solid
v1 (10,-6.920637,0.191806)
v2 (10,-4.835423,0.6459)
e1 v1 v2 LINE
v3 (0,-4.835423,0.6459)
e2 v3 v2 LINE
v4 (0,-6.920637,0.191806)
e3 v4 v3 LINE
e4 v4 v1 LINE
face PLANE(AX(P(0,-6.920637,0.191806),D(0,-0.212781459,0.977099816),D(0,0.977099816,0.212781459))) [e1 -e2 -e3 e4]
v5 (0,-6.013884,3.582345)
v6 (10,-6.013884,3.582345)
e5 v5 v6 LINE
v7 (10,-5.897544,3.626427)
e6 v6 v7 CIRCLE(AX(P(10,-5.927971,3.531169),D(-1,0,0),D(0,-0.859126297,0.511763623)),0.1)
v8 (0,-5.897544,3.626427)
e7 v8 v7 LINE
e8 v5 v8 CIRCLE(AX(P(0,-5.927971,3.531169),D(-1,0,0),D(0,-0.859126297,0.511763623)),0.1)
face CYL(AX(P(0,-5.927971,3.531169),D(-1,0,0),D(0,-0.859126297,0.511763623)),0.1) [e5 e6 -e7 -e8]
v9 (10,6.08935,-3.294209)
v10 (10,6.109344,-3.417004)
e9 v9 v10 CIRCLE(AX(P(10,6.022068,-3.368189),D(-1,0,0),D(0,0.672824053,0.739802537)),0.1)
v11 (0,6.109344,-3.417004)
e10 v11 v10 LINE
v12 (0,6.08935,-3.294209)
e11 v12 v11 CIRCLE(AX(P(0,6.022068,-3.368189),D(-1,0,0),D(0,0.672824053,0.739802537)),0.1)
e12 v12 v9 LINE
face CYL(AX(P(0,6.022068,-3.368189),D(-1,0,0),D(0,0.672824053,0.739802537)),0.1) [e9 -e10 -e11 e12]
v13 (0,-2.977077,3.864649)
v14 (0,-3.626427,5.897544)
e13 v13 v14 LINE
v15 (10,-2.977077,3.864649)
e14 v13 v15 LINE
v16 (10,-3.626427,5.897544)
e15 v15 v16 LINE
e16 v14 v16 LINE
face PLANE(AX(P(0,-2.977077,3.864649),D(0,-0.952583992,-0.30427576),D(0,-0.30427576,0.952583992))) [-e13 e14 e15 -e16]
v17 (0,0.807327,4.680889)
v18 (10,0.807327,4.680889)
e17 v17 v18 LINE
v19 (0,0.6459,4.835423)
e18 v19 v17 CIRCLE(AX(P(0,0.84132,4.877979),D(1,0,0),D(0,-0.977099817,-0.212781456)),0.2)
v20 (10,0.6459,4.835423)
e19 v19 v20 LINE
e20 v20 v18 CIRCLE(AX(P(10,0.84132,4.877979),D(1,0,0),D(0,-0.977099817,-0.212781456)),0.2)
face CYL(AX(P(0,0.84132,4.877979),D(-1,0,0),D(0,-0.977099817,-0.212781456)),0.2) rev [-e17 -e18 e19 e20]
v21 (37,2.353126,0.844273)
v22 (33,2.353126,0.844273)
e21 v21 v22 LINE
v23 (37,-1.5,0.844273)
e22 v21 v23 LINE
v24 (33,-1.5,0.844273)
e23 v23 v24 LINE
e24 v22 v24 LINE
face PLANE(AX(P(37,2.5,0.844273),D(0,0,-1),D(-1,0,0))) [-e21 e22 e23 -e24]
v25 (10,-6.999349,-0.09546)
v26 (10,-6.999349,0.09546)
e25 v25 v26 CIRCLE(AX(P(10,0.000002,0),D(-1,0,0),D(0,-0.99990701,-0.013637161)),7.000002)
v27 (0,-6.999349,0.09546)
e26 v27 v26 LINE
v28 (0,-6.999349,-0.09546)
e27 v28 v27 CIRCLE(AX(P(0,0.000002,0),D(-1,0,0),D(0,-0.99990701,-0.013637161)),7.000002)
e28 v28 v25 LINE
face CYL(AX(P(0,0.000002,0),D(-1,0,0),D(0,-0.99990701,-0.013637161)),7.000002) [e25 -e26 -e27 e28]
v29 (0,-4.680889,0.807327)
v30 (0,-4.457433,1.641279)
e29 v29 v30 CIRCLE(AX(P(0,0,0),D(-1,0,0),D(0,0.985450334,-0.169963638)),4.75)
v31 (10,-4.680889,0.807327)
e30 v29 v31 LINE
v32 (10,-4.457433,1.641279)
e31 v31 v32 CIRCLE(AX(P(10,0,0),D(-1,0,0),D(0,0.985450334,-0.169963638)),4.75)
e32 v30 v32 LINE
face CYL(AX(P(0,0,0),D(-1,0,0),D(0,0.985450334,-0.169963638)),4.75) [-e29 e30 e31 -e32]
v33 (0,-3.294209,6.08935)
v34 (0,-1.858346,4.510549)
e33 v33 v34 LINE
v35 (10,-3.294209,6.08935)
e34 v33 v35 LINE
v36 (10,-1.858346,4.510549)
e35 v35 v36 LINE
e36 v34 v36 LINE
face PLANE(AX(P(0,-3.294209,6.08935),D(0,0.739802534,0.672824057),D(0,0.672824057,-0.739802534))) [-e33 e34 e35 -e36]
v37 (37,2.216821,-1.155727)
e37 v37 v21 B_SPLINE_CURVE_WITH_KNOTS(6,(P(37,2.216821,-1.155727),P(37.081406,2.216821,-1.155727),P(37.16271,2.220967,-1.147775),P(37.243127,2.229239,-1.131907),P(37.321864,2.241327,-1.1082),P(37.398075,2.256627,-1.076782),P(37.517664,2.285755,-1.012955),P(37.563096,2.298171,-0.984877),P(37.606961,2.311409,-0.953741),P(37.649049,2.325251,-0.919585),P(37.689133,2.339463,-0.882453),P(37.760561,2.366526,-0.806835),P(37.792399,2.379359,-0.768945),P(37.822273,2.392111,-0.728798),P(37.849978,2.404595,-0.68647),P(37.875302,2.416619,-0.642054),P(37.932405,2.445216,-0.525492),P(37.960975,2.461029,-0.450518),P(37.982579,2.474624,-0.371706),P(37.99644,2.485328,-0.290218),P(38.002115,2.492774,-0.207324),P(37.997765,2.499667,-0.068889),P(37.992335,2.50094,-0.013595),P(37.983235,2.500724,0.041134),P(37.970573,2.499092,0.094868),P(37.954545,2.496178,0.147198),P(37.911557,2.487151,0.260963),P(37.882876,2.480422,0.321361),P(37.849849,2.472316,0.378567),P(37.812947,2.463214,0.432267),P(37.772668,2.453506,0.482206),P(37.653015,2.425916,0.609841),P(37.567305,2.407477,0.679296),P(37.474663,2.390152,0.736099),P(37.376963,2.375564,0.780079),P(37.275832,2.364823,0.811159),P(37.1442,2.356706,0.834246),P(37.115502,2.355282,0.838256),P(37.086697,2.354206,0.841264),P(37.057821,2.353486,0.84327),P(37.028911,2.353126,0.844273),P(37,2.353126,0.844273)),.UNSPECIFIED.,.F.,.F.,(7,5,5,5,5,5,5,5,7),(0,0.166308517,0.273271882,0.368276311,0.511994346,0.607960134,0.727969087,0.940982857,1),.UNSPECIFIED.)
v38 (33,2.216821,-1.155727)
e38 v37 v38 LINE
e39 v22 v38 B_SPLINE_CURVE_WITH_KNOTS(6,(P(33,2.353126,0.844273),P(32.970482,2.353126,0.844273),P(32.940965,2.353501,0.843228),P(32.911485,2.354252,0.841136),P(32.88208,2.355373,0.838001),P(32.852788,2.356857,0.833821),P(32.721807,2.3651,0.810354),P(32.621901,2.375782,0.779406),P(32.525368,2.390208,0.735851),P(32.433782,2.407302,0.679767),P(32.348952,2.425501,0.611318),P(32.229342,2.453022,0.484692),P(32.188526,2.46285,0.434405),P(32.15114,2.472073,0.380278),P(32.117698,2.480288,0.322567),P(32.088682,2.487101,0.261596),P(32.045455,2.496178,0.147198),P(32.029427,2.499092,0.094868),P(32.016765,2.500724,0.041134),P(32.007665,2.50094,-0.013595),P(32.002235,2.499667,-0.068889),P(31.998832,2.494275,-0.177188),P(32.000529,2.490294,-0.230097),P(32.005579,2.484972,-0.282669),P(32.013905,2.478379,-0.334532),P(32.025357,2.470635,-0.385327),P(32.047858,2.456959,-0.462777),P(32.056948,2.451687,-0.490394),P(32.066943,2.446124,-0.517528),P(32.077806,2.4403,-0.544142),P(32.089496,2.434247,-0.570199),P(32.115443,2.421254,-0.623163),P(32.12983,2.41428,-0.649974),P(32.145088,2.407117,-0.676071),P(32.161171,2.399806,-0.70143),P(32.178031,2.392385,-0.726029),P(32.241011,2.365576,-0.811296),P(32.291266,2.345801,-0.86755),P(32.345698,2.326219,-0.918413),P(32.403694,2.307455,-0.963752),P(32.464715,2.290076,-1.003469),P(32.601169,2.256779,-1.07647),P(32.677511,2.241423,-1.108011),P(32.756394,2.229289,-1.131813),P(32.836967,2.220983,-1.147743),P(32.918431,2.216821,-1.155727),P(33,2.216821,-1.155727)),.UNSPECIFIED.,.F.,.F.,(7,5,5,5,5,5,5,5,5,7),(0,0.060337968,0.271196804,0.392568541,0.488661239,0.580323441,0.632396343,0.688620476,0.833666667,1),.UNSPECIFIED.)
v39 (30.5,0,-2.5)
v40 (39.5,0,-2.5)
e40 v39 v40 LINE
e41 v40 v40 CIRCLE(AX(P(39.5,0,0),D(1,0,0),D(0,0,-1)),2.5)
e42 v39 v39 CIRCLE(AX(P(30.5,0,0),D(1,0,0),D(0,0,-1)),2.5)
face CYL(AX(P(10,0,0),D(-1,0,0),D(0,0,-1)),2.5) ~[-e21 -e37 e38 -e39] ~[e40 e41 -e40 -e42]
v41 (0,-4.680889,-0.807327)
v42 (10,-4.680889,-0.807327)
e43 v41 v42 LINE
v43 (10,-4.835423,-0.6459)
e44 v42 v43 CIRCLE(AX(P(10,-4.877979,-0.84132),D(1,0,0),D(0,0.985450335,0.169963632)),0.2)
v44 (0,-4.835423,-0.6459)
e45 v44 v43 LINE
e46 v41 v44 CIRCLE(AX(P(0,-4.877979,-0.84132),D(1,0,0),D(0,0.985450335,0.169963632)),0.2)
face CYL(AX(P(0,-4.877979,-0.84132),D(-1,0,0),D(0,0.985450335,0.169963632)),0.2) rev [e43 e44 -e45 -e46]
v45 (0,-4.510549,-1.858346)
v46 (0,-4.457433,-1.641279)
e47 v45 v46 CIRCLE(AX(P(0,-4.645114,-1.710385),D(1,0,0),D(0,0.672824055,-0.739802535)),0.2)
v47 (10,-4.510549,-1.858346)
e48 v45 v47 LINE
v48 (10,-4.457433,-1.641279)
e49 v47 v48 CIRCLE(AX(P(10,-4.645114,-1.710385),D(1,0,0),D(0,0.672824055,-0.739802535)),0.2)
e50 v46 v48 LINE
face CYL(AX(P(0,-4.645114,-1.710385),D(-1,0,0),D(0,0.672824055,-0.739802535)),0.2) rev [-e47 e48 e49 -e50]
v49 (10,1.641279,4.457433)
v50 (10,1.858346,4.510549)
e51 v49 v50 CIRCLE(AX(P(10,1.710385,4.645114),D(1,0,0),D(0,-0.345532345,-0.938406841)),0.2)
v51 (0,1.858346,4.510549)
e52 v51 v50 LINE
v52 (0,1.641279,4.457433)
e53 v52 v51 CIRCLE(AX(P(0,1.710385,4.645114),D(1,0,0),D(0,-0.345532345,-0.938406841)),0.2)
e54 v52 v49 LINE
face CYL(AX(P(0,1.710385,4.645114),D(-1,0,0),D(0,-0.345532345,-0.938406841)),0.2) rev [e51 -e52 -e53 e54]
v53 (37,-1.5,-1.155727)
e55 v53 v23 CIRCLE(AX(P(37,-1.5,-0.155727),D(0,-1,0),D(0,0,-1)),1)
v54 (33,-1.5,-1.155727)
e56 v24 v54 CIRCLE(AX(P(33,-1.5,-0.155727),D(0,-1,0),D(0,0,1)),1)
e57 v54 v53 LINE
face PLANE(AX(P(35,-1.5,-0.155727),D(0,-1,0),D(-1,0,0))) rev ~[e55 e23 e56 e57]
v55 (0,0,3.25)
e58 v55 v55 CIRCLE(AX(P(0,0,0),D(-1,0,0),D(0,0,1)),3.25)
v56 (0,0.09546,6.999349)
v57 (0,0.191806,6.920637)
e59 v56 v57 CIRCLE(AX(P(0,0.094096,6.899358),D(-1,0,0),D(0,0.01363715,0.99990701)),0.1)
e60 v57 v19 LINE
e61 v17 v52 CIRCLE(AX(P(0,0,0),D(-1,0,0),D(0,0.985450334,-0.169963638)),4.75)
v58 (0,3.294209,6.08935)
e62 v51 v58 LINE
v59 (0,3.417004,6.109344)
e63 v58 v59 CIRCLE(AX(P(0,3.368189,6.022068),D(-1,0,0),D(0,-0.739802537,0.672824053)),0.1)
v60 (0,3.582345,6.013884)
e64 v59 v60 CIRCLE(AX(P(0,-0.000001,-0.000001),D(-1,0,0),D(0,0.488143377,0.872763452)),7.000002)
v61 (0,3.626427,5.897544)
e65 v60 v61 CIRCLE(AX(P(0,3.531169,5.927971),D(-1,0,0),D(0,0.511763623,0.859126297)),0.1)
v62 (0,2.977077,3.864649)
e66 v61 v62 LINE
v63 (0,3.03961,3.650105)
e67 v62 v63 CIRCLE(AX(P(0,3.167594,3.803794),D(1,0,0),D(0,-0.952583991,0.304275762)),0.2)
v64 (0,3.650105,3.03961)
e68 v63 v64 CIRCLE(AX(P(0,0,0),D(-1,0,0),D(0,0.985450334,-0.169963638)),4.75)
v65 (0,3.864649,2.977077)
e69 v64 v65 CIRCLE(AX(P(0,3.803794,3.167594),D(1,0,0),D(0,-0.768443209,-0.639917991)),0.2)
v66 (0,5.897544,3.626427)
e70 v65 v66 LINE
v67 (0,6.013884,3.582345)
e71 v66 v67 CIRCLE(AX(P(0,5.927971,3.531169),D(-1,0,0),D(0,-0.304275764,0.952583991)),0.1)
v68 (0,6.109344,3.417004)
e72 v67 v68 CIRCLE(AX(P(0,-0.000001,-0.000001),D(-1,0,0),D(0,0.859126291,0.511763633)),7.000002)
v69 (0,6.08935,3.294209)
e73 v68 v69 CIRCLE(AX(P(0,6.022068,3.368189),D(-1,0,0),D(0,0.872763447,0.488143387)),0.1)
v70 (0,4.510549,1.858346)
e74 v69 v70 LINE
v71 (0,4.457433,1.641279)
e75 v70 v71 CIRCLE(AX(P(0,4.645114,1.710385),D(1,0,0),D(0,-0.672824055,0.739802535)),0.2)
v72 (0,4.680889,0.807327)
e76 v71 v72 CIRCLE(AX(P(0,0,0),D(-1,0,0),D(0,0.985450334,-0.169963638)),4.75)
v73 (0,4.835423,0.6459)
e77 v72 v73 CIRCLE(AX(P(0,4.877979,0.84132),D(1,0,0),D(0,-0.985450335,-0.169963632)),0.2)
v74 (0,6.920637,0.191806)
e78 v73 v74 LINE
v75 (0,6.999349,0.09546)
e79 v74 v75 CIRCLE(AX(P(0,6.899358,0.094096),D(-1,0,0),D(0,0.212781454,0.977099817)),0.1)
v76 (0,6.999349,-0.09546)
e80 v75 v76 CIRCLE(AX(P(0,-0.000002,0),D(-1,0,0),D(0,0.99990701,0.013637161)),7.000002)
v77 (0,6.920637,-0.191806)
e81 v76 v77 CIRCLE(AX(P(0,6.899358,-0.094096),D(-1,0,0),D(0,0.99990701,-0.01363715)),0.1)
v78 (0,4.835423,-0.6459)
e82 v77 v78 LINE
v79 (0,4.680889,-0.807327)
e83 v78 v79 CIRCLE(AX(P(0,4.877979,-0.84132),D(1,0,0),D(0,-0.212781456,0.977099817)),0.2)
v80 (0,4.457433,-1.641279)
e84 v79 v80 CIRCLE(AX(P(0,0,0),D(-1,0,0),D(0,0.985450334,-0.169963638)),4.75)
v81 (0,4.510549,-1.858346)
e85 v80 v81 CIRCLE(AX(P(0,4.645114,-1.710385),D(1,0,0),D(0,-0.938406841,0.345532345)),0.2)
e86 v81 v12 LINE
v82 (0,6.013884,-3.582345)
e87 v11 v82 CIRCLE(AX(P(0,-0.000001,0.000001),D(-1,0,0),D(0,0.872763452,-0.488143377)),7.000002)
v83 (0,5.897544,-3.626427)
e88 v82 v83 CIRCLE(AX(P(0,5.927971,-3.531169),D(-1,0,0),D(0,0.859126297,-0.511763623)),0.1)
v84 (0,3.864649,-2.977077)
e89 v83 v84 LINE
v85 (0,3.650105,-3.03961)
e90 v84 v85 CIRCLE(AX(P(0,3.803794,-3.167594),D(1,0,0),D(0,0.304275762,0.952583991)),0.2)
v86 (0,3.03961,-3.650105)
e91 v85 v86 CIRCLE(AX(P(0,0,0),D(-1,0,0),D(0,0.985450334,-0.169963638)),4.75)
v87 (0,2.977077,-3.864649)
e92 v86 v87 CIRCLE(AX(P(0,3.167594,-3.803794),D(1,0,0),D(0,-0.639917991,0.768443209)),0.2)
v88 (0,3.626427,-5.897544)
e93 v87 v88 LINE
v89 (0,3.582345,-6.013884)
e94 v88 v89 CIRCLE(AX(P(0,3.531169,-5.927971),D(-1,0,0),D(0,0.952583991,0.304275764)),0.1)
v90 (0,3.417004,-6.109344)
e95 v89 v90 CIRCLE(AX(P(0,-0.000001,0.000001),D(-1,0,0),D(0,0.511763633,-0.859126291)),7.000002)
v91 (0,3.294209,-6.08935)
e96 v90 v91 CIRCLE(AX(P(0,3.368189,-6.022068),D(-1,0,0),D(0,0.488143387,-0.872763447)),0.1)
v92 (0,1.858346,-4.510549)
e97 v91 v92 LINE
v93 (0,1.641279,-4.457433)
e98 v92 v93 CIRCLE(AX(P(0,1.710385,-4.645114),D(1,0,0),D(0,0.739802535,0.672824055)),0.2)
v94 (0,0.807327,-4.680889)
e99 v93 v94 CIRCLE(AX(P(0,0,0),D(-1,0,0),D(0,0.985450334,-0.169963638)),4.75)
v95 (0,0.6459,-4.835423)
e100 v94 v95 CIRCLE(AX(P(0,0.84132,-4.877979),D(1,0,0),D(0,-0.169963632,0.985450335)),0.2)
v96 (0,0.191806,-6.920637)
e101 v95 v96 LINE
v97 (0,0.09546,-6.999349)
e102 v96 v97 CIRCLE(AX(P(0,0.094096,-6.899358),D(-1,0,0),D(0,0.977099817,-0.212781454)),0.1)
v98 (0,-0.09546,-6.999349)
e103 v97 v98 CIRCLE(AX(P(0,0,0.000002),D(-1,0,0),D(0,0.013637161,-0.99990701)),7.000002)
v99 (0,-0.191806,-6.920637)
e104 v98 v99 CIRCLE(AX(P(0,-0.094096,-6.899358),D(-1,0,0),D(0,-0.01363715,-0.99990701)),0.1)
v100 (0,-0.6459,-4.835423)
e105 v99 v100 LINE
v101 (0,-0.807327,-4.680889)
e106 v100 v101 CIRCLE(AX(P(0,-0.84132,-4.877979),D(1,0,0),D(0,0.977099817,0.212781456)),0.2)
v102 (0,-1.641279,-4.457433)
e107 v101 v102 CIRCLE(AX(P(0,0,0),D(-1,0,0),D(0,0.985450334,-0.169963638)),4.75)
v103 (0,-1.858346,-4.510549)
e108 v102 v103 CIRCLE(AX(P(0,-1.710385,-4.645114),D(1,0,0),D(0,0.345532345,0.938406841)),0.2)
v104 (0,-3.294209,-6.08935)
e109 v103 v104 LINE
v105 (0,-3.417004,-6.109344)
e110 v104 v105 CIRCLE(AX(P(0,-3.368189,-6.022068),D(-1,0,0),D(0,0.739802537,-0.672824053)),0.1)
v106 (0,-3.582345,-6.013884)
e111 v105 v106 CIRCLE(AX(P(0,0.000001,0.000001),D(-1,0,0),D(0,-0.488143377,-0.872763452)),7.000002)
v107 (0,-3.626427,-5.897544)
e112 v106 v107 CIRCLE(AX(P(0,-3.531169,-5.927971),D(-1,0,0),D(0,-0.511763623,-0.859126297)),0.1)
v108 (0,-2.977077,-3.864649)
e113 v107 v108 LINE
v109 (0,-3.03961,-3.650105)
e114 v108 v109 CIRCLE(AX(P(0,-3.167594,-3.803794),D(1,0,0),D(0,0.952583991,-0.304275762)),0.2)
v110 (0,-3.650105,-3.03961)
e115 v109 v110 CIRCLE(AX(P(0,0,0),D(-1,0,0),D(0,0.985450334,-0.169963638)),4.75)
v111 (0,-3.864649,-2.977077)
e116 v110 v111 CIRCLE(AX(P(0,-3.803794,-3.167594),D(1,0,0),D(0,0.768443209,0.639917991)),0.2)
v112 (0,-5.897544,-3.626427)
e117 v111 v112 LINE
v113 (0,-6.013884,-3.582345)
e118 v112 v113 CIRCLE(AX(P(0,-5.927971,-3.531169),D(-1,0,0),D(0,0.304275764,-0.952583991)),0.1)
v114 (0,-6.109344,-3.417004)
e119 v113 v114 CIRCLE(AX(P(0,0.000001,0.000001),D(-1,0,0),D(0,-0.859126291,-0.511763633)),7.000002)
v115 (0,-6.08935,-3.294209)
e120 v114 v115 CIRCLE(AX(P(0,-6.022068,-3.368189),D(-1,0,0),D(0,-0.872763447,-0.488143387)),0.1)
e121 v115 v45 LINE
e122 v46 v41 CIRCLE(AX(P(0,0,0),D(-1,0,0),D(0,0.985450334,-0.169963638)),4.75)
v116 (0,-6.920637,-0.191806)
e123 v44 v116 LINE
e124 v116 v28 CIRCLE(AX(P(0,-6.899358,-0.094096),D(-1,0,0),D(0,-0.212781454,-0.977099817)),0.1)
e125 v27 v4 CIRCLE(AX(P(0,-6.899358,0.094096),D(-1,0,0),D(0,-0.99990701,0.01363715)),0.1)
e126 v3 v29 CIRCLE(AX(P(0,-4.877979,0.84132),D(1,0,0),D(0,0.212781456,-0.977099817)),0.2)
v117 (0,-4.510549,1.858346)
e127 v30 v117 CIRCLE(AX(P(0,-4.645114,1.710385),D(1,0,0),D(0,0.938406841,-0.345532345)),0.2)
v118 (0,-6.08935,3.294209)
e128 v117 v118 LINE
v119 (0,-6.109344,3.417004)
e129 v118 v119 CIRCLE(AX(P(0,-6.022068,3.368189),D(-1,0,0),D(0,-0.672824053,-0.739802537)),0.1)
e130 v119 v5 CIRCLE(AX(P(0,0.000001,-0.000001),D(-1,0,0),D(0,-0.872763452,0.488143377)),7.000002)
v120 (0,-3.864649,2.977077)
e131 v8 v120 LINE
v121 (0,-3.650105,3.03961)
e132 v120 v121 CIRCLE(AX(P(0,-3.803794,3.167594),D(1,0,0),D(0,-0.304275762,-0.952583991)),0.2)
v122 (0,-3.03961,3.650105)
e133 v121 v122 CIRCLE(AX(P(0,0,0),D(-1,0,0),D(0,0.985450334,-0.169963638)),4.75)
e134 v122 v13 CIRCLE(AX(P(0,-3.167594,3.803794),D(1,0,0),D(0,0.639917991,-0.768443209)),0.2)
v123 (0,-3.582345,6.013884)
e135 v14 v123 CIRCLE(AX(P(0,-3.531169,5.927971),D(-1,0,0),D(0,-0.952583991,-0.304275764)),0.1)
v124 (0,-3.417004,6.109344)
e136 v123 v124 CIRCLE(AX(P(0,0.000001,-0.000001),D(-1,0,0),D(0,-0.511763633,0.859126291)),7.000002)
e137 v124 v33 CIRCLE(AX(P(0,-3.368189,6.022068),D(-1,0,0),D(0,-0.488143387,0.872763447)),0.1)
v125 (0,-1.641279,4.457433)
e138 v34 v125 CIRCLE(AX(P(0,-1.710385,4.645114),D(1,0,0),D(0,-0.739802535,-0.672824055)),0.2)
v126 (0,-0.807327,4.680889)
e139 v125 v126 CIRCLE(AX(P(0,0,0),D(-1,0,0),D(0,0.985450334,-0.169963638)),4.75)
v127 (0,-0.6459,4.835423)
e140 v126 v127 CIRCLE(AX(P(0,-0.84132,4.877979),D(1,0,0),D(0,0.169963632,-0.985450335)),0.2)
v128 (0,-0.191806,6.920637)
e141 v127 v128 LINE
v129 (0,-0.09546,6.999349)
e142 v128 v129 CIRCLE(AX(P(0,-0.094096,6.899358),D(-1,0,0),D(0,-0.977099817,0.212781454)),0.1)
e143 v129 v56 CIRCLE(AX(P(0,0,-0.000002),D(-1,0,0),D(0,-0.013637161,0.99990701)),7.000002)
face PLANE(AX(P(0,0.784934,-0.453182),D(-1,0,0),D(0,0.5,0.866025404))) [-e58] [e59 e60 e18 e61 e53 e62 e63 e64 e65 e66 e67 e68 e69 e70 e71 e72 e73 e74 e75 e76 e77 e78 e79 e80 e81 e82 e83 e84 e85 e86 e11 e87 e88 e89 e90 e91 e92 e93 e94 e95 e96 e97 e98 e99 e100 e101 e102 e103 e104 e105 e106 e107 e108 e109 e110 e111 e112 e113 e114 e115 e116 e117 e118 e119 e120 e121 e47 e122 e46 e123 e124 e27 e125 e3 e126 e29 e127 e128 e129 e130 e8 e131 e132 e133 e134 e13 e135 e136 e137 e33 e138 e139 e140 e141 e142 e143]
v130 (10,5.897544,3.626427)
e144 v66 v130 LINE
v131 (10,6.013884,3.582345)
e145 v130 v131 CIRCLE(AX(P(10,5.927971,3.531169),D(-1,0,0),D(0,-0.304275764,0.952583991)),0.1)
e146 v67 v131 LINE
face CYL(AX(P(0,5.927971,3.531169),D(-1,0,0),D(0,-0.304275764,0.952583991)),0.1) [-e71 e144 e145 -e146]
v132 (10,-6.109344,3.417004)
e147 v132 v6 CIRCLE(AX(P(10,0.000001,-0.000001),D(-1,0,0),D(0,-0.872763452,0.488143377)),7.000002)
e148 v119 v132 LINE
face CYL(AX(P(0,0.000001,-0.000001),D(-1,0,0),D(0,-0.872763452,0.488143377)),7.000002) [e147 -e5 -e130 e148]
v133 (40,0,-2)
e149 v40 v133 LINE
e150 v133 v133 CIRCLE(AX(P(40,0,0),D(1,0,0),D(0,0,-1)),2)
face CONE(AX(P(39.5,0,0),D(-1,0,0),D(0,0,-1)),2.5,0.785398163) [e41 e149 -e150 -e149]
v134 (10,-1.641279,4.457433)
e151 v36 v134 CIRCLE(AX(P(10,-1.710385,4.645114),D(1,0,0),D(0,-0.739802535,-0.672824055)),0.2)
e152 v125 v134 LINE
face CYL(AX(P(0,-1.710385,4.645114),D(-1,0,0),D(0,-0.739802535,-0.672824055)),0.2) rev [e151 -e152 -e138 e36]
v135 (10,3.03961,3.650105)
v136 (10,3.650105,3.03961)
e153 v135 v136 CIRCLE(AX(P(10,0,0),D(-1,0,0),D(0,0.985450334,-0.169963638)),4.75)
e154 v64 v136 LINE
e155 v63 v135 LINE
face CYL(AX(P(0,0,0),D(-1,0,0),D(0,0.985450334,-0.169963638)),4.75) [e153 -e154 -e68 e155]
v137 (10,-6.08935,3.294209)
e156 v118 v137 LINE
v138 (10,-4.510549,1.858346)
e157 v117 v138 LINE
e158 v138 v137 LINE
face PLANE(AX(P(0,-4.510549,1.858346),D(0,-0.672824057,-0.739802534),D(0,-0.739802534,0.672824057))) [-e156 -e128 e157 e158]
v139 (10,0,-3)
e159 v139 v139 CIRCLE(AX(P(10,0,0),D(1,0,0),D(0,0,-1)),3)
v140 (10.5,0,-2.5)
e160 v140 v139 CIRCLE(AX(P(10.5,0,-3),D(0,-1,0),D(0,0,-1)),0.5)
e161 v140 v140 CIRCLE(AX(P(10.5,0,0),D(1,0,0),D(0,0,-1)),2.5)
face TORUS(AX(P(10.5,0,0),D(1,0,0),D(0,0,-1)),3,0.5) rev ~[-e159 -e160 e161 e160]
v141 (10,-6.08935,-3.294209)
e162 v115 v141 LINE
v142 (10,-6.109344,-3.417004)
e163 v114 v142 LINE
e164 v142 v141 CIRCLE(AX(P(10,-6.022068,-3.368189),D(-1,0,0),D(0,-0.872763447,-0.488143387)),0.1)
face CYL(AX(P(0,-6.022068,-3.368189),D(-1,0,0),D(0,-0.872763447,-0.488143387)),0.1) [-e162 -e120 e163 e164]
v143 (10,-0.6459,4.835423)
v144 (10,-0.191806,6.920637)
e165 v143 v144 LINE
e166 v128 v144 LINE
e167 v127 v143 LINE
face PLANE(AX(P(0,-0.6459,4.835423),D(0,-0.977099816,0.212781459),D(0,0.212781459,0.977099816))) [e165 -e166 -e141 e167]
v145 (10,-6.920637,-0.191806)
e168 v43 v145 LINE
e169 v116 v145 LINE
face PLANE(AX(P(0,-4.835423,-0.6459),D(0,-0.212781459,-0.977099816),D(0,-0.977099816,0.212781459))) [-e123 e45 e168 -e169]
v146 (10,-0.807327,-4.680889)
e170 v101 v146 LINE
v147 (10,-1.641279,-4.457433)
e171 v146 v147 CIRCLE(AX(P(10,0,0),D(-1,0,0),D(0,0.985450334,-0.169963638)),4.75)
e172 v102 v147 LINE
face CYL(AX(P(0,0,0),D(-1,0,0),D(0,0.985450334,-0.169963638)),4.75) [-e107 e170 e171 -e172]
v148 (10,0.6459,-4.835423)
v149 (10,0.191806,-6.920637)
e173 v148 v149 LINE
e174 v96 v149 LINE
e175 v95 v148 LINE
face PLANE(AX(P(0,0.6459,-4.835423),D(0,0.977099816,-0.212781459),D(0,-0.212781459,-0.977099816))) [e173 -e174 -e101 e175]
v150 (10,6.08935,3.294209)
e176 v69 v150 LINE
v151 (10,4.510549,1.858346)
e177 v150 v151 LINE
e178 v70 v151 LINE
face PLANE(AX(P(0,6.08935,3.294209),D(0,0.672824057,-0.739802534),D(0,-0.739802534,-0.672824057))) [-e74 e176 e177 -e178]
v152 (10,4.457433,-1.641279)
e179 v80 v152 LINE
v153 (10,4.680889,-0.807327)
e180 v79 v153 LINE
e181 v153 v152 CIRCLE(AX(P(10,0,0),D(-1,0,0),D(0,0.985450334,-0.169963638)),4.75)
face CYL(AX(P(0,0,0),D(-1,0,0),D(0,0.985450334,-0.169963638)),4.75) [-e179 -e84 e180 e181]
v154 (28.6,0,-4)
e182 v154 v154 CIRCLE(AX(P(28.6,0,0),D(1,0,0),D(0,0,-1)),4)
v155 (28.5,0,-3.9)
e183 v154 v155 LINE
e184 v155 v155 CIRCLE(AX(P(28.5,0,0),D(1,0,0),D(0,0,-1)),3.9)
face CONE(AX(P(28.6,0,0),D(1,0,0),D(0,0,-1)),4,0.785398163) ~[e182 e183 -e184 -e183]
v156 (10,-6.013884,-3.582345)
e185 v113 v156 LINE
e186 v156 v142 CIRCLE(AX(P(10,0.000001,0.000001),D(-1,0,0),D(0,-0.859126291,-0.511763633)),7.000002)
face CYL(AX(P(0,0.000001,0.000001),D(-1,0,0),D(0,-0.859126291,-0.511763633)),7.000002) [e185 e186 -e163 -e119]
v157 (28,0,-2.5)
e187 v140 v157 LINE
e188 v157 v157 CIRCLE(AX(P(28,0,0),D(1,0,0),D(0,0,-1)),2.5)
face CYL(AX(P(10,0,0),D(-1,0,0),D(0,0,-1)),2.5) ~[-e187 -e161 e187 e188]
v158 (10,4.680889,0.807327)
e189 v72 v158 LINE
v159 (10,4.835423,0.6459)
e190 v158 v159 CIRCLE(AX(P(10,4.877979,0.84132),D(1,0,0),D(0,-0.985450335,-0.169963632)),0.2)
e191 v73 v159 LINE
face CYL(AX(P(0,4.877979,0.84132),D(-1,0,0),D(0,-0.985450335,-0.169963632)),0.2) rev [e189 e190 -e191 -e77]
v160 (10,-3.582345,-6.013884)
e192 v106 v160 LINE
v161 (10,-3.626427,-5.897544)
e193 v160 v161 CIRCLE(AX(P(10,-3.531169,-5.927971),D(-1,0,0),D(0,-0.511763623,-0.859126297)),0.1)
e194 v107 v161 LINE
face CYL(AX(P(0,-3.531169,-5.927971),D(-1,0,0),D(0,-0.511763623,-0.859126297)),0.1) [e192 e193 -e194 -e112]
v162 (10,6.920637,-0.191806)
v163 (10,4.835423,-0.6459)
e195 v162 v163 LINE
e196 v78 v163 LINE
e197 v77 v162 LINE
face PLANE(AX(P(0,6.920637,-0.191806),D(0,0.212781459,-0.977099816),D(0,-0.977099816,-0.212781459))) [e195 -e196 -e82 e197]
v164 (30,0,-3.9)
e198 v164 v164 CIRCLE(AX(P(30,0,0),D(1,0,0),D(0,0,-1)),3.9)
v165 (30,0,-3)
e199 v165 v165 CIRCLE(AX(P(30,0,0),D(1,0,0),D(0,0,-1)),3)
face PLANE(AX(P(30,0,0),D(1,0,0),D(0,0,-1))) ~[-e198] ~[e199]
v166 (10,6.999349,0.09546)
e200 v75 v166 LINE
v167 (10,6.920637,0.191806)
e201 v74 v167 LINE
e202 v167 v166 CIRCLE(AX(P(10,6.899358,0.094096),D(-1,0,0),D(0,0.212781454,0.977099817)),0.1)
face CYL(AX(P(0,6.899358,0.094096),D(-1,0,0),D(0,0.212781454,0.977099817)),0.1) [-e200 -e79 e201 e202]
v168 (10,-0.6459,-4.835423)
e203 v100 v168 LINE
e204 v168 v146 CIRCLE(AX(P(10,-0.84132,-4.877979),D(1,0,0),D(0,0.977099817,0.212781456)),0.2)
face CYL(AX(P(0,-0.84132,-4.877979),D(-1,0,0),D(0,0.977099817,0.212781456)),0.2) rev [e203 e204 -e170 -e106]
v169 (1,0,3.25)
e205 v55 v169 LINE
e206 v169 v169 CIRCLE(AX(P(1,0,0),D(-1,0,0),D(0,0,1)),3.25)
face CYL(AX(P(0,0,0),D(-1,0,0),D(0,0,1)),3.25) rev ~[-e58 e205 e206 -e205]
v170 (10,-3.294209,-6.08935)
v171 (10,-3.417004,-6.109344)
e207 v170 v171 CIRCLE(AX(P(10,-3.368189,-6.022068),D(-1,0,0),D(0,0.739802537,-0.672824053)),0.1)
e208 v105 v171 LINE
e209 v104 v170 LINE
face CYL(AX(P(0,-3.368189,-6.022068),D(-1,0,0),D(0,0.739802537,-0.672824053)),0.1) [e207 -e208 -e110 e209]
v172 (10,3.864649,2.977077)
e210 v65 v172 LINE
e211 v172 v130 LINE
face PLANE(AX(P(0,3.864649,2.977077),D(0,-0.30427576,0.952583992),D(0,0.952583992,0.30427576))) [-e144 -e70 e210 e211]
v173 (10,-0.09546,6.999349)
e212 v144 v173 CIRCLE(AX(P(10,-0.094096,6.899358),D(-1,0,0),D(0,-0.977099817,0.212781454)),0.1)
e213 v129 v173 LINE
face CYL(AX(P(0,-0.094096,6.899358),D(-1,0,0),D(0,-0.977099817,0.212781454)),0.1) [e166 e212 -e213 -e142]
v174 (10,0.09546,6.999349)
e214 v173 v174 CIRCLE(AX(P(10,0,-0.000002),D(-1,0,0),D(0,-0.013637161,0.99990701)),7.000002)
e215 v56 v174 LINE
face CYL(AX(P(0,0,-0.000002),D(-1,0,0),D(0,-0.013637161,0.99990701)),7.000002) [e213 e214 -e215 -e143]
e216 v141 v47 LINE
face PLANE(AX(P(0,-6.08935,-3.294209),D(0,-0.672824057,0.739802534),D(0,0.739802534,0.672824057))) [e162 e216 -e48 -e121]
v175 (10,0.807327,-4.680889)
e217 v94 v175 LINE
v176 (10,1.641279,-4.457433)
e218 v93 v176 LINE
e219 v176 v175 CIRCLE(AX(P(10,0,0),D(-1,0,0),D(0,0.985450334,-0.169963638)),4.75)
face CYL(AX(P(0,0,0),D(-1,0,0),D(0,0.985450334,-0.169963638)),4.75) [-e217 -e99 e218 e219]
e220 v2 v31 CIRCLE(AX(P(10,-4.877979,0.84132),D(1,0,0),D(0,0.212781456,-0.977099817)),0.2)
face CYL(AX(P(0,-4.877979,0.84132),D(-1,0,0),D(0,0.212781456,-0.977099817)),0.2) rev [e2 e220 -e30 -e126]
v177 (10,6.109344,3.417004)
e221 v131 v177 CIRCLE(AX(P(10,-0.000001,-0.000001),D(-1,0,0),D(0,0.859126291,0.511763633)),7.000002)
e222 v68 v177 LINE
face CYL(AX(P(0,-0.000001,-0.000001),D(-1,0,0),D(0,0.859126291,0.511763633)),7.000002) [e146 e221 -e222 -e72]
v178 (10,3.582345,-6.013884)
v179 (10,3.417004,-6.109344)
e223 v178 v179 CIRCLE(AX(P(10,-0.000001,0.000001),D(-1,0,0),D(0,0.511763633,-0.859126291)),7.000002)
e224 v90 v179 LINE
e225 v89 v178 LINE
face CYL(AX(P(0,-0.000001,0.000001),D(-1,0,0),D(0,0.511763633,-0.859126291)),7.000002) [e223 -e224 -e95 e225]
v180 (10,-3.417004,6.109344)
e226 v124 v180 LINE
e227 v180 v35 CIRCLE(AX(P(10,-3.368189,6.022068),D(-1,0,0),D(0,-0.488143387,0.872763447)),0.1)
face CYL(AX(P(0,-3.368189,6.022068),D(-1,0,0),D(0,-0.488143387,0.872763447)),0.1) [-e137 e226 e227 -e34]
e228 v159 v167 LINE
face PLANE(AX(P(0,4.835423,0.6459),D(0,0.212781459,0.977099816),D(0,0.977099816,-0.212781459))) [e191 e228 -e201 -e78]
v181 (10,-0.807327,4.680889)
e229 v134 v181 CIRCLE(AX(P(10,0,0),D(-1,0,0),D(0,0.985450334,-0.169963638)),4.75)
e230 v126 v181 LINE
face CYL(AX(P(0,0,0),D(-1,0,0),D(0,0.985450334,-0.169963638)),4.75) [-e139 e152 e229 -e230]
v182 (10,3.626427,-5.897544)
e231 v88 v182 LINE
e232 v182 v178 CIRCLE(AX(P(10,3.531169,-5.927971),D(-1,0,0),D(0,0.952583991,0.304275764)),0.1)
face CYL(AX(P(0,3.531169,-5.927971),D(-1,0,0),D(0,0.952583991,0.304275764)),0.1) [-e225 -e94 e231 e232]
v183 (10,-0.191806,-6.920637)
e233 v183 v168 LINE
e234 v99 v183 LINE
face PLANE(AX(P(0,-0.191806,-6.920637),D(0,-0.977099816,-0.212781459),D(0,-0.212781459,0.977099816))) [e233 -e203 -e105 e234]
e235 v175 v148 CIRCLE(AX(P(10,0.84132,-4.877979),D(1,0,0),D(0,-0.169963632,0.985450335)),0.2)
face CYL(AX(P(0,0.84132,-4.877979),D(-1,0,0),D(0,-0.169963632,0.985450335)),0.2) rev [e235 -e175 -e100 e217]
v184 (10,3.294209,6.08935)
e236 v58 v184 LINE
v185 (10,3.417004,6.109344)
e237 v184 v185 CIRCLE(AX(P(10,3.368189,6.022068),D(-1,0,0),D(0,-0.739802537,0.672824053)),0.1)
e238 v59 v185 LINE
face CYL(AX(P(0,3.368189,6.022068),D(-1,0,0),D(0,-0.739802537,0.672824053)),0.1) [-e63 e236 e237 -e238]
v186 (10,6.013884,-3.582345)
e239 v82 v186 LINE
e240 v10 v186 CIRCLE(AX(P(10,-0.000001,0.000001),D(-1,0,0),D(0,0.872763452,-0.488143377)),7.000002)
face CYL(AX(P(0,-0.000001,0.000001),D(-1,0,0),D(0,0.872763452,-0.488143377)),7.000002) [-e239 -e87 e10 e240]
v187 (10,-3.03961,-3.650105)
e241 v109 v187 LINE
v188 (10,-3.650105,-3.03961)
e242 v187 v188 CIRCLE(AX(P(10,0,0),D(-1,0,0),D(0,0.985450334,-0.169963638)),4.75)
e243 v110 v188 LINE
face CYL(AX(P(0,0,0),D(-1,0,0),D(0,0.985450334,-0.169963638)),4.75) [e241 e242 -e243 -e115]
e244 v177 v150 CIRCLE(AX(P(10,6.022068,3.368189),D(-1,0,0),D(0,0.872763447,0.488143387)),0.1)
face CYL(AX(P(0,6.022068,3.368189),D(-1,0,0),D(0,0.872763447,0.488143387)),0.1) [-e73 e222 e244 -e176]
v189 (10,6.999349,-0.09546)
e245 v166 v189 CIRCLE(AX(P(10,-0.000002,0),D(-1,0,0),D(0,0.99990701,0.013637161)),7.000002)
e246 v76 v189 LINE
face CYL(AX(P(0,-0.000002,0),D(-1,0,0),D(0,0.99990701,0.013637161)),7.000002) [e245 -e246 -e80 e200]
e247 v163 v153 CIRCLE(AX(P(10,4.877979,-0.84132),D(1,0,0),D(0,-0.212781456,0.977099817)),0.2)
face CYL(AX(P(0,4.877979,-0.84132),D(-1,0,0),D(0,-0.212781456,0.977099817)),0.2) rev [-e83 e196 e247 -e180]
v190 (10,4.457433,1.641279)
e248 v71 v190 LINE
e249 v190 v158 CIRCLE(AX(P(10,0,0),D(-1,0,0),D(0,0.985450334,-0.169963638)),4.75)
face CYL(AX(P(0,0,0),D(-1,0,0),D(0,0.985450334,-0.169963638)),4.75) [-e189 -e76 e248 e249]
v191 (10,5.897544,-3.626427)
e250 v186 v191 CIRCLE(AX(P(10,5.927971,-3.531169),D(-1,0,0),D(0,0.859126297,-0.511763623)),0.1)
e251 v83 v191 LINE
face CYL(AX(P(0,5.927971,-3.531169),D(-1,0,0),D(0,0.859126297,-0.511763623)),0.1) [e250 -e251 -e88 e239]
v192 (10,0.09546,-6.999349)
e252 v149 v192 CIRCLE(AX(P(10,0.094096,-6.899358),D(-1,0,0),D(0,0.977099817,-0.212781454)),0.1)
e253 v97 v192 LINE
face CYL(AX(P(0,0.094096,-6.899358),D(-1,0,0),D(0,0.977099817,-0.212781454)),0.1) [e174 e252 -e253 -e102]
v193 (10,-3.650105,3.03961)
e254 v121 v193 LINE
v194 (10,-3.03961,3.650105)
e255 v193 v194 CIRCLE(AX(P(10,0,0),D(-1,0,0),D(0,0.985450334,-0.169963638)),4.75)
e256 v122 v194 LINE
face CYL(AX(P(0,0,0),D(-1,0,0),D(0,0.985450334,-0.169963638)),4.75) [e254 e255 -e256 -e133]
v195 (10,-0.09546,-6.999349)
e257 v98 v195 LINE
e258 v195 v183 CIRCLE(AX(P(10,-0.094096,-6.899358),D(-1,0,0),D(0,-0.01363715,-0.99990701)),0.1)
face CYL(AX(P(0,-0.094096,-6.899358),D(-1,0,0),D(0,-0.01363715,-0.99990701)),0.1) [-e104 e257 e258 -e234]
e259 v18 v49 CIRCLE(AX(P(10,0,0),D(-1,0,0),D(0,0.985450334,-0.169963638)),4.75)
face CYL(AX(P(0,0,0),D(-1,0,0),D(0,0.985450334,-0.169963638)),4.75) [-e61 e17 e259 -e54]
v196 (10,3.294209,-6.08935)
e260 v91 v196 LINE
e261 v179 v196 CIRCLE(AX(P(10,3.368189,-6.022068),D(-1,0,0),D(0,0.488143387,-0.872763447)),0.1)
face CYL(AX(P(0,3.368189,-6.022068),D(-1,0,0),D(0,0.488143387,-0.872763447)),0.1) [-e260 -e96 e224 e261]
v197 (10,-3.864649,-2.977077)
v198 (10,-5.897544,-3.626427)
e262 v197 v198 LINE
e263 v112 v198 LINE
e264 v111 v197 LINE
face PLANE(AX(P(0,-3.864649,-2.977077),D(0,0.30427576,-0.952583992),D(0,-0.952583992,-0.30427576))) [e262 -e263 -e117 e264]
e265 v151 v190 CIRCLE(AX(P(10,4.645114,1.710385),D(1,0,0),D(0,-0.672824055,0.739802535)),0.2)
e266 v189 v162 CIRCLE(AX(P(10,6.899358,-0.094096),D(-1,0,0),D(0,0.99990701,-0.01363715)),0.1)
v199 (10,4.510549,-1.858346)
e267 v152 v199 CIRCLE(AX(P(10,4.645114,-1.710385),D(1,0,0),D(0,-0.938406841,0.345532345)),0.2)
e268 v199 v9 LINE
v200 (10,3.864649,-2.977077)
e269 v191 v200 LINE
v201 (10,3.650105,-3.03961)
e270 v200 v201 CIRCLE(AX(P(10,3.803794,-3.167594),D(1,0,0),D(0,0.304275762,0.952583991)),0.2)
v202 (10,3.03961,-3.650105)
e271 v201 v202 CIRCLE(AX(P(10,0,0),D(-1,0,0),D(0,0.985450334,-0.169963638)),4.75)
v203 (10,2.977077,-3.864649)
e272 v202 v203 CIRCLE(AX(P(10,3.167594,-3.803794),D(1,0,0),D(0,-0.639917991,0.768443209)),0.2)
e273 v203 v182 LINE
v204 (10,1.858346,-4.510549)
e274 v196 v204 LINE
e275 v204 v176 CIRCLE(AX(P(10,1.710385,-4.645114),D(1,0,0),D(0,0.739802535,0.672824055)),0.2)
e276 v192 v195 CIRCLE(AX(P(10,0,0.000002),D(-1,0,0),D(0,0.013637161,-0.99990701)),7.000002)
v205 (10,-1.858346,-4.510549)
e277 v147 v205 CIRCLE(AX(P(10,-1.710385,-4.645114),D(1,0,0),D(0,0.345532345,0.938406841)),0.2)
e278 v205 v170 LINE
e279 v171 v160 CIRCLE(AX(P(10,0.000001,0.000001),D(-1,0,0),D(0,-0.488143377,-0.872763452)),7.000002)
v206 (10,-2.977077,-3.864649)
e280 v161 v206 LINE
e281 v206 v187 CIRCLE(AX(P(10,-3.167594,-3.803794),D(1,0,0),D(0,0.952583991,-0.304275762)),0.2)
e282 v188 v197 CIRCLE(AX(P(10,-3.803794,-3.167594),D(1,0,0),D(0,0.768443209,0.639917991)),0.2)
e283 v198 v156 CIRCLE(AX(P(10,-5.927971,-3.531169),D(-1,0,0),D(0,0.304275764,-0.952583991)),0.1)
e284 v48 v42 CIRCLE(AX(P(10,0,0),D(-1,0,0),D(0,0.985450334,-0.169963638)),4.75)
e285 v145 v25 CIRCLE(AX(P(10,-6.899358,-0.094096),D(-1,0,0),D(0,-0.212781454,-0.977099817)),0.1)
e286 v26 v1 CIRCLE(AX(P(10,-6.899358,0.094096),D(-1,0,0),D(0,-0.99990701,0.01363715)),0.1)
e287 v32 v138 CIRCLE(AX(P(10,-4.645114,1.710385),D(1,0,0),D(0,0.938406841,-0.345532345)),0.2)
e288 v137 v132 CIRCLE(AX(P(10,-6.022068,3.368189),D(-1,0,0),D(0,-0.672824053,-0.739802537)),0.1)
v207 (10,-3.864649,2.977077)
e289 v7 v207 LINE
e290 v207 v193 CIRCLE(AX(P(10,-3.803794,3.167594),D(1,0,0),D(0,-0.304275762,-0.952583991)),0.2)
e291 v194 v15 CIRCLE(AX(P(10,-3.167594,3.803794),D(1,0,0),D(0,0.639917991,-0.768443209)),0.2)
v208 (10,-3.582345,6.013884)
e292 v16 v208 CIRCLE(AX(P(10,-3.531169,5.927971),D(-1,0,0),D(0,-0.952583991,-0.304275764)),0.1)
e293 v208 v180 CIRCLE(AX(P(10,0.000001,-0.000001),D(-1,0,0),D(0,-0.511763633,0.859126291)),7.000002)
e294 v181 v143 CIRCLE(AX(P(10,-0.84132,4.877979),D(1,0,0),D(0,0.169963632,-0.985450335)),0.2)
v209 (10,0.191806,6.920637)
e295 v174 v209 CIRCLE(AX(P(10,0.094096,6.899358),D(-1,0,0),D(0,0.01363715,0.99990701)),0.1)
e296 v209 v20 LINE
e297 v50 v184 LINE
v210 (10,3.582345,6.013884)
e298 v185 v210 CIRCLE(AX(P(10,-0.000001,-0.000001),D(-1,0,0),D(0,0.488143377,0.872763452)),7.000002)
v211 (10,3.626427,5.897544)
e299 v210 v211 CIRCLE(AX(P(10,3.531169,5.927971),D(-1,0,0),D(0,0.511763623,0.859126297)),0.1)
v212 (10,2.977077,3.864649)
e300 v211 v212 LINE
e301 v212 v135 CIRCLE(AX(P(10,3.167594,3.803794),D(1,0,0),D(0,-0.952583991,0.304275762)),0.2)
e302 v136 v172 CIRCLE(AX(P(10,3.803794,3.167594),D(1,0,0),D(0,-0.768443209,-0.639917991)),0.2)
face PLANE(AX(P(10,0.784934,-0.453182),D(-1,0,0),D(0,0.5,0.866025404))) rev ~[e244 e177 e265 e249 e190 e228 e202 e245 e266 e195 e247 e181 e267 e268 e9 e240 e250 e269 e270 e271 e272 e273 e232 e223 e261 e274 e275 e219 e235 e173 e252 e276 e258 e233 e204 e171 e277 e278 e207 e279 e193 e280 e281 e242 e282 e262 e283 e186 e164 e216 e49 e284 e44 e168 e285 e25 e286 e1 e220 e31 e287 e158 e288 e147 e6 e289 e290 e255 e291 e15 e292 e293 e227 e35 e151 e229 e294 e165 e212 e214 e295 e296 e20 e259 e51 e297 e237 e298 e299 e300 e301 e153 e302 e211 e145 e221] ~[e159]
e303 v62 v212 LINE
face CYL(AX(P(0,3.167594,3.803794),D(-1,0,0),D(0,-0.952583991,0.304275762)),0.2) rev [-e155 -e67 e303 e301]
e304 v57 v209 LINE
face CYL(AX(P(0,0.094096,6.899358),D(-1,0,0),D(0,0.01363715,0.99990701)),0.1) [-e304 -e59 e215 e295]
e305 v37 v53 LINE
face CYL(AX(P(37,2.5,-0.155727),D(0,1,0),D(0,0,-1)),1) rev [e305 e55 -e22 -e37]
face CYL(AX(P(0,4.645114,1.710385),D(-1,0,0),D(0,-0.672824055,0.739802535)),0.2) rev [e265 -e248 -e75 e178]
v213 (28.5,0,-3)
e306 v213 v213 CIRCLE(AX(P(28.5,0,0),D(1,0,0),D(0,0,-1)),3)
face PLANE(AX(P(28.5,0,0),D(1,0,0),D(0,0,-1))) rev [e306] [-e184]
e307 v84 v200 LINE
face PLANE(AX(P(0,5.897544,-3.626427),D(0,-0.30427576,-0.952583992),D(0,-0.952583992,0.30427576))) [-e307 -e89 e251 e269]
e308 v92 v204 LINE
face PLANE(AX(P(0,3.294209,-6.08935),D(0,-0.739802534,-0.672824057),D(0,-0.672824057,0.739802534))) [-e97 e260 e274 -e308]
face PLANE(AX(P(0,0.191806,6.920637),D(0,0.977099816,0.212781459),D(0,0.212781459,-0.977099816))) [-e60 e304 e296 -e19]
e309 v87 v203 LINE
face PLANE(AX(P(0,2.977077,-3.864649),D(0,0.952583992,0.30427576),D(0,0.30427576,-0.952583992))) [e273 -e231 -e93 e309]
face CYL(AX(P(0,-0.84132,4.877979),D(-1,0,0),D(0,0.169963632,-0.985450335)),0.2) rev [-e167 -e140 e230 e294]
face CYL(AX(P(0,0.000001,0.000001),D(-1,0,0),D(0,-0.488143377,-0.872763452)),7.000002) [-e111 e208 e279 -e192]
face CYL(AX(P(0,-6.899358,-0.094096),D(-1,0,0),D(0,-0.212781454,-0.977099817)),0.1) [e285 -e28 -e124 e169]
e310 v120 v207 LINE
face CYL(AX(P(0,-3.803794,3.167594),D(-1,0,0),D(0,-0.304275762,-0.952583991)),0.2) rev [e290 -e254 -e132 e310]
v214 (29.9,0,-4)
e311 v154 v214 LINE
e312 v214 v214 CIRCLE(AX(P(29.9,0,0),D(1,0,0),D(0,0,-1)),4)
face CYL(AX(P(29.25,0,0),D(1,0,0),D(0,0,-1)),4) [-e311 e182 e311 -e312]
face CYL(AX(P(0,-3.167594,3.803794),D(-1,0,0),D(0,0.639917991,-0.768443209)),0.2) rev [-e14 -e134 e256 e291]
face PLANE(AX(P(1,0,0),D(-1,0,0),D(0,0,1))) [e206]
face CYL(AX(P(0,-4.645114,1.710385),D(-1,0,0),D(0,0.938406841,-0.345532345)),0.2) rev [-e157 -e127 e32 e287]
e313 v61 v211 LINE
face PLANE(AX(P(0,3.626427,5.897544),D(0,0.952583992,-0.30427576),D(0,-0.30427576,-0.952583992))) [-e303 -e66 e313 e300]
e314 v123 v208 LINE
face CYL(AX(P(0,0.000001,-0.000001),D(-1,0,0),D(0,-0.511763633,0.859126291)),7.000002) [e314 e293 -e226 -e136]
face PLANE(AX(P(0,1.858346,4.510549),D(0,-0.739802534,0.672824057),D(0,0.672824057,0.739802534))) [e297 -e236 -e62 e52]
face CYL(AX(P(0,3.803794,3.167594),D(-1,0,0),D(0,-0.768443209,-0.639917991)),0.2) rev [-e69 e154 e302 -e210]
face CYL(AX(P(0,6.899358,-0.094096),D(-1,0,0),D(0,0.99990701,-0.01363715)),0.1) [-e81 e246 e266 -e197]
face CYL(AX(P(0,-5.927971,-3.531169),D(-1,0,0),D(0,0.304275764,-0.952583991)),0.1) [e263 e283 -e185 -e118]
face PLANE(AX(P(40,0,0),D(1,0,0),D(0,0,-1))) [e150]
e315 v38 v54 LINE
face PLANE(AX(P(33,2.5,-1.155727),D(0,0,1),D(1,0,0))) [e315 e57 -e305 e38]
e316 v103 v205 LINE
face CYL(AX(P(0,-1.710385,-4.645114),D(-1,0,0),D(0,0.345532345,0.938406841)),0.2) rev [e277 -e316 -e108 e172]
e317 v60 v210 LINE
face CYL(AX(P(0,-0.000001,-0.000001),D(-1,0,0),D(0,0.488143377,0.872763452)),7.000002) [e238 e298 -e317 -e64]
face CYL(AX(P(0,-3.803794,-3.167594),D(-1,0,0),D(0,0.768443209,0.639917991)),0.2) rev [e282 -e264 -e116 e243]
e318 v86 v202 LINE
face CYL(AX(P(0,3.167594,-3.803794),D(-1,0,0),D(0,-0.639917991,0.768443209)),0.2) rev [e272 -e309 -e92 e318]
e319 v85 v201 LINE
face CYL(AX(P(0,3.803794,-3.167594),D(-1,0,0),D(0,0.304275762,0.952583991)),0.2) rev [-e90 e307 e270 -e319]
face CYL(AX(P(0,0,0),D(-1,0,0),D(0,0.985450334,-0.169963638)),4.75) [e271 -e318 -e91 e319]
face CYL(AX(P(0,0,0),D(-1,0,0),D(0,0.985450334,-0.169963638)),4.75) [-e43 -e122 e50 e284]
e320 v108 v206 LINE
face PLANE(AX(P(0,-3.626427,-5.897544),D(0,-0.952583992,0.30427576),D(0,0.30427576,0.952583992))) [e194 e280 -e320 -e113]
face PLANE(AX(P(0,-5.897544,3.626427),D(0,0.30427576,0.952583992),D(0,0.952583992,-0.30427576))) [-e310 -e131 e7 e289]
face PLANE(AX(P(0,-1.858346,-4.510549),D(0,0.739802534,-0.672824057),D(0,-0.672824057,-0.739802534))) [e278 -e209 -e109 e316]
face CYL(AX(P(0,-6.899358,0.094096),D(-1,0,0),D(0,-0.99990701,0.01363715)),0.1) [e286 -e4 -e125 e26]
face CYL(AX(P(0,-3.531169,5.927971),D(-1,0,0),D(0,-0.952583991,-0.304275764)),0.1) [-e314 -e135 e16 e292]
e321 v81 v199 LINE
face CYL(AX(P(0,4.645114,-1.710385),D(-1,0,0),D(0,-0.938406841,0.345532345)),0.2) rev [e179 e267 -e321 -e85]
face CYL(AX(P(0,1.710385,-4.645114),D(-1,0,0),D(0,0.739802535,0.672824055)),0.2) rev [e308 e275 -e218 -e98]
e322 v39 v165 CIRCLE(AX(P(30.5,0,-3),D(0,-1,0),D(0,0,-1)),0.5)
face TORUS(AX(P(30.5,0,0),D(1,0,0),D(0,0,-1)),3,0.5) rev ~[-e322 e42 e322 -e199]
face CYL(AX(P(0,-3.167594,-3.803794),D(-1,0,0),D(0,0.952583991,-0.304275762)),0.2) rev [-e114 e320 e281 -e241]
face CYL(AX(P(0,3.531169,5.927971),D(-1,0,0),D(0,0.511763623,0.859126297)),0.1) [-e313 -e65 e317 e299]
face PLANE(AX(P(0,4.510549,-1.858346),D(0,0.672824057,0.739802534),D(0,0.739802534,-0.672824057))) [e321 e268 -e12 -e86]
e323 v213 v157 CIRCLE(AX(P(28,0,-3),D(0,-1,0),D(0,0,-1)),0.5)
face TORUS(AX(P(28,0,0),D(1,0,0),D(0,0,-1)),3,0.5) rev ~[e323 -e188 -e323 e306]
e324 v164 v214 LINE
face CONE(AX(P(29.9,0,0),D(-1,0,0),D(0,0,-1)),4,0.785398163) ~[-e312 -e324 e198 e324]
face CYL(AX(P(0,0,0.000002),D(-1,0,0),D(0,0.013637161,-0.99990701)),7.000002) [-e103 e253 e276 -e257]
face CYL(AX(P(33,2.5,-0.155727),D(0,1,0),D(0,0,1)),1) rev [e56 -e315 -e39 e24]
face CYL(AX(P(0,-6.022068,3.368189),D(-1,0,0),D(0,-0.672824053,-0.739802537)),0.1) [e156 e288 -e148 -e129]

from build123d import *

# Parameters (mm, degrees)
BOSS_EXTRUDE1_DEPTH = 10
CIRPATTERN1_COUNT   = 12
SKETCH2_R           = 2.5
BOSS_EXTRUDE2_DEPTH = 30
SKETCH6_W           = 1.5
SKETCH6_H           = 1.5
CUT_EXTRUDE1_DEPTH  = 4
CHAMFER2_SIZE       = 0.5
FILLET1_R           = 0.5
CHAMFER3_SIZE       = 0.1
FILLET2_R           = 0.5
SKETCH9_R           = 3.25
CUT_EXTRUDE2_DEPTH  = 1


with BuildPart() as part:
    # Sketch1 → Boss-Extrude1 (new body)
    with BuildSketch(Plane(origin=(0, 0, 0), x_dir=(0, 0, -1), z_dir=(1, 0, 0))):
        with BuildLine():
            Line((-0.645900046, 4.835422864), (-0.191806417, 6.920636512))
            ThreePointArc((-0.191806417, 6.920636512), (-0.157364247, 6.976799854), (-0.095460151, 6.999349067))
            ThreePointArc((-0.095460151, 6.999349067), (0, 7), (0.095460151, 6.999349067))
            ThreePointArc((0.095460151, 6.999349067), (0.157364247, 6.976799854), (0.191806417, 6.920636512))
            Line((0.191806417, 6.920636512), (0.645900046, 4.835422864))
            ThreePointArc((0.645900046, 4.835422864), (0.703017017, 4.733506728), (0.807327282, 4.680889089))
            ThreePointArc((0.807327282, 4.680889089), (0, -4.75), (-0.807327282, 4.680889089))
            ThreePointArc((-0.807327282, 4.680889089), (-0.703017017, 4.733506728), (-0.645900046, 4.835422864))
        make_face()
    boss_extrude1 = extrude(amount=BOSS_EXTRUDE1_DEPTH)

    # CirPattern1: Boss-Extrude1 ×12 about axis
    cirpattern1_axis = Axis((0, 0, 0), (1, 0, 0))
    for i in range(1, CIRPATTERN1_COUNT):
        add(boss_extrude1.rotate(cirpattern1_axis, i * 360 / CIRPATTERN1_COUNT))

    # Sketch2 → Boss-Extrude2 (add)
    with BuildSketch(Plane(origin=(10, 0, 0), x_dir=(0, 0, -1), z_dir=(1, 0, 0))):
        Circle(SKETCH2_R)
    extrude(amount=BOSS_EXTRUDE2_DEPTH)

    # Sketch6 → Revolve1 (revolve)
    with BuildSketch(Plane(origin=(0, 0, 0), x_dir=(1, 0, 0), z_dir=(0, 1, 0))):
        with Locations((29.25, 3.25)):
            Rectangle(SKETCH6_W, SKETCH6_H)
    revolve(axis=Axis((0, 0, 0), (1, 0, 0)))

    # Sketch8 → Cut-Extrude1 (cut)
    with BuildSketch(Plane(origin=(0, 2.5, 0), x_dir=(1, 0, 0), z_dir=(0, 1, 0))):
        with BuildLine():
            Line((37, -0.844273094), (33, -0.844273094))
            ThreePointArc((33, -0.844273094), (32, 0.155726906), (33, 1.155726906))
            Line((33, 1.155726906), (37, 1.155726906))
            ThreePointArc((37, 1.155726906), (38, 0.155726906), (37, -0.844273094))
        make_face()
    extrude(amount=-CUT_EXTRUDE1_DEPTH, mode=Mode.SUBTRACT)

    # Chamfer2
    chamfer2_edges = [part.edges().sort_by_distance(p)[0] for p in [
        (40, 0, 2.5),
    ]]
    chamfer(chamfer2_edges, length=CHAMFER2_SIZE)

    # Fillet1
    fillet1_edges = [part.edges().sort_by_distance(p)[0] for p in [
        (28.5, 0, 2.5),
        (30, 0, 2.5),
    ]]
    fillet(fillet1_edges, radius=FILLET1_R)

    # Chamfer3
    chamfer3_edges = [part.edges().sort_by_distance(p)[0] for p in [
        (30, 0, 4),
        (28.5, 0, 4),
    ]]
    chamfer(chamfer3_edges, length=CHAMFER3_SIZE)

    # Fillet2
    fillet2_edges = [part.edges().sort_by_distance(p)[0] for p in [
        (10, 0, 2.5),
    ]]
    fillet(fillet2_edges, radius=FILLET2_R)

    # Sketch9 → Cut-Extrude2 (cut)
    with BuildSketch(Plane.ZY):
        Circle(SKETCH9_R)
    extrude(amount=-CUT_EXTRUDE2_DEPTH, mode=Mode.SUBTRACT)


solid = part.part
